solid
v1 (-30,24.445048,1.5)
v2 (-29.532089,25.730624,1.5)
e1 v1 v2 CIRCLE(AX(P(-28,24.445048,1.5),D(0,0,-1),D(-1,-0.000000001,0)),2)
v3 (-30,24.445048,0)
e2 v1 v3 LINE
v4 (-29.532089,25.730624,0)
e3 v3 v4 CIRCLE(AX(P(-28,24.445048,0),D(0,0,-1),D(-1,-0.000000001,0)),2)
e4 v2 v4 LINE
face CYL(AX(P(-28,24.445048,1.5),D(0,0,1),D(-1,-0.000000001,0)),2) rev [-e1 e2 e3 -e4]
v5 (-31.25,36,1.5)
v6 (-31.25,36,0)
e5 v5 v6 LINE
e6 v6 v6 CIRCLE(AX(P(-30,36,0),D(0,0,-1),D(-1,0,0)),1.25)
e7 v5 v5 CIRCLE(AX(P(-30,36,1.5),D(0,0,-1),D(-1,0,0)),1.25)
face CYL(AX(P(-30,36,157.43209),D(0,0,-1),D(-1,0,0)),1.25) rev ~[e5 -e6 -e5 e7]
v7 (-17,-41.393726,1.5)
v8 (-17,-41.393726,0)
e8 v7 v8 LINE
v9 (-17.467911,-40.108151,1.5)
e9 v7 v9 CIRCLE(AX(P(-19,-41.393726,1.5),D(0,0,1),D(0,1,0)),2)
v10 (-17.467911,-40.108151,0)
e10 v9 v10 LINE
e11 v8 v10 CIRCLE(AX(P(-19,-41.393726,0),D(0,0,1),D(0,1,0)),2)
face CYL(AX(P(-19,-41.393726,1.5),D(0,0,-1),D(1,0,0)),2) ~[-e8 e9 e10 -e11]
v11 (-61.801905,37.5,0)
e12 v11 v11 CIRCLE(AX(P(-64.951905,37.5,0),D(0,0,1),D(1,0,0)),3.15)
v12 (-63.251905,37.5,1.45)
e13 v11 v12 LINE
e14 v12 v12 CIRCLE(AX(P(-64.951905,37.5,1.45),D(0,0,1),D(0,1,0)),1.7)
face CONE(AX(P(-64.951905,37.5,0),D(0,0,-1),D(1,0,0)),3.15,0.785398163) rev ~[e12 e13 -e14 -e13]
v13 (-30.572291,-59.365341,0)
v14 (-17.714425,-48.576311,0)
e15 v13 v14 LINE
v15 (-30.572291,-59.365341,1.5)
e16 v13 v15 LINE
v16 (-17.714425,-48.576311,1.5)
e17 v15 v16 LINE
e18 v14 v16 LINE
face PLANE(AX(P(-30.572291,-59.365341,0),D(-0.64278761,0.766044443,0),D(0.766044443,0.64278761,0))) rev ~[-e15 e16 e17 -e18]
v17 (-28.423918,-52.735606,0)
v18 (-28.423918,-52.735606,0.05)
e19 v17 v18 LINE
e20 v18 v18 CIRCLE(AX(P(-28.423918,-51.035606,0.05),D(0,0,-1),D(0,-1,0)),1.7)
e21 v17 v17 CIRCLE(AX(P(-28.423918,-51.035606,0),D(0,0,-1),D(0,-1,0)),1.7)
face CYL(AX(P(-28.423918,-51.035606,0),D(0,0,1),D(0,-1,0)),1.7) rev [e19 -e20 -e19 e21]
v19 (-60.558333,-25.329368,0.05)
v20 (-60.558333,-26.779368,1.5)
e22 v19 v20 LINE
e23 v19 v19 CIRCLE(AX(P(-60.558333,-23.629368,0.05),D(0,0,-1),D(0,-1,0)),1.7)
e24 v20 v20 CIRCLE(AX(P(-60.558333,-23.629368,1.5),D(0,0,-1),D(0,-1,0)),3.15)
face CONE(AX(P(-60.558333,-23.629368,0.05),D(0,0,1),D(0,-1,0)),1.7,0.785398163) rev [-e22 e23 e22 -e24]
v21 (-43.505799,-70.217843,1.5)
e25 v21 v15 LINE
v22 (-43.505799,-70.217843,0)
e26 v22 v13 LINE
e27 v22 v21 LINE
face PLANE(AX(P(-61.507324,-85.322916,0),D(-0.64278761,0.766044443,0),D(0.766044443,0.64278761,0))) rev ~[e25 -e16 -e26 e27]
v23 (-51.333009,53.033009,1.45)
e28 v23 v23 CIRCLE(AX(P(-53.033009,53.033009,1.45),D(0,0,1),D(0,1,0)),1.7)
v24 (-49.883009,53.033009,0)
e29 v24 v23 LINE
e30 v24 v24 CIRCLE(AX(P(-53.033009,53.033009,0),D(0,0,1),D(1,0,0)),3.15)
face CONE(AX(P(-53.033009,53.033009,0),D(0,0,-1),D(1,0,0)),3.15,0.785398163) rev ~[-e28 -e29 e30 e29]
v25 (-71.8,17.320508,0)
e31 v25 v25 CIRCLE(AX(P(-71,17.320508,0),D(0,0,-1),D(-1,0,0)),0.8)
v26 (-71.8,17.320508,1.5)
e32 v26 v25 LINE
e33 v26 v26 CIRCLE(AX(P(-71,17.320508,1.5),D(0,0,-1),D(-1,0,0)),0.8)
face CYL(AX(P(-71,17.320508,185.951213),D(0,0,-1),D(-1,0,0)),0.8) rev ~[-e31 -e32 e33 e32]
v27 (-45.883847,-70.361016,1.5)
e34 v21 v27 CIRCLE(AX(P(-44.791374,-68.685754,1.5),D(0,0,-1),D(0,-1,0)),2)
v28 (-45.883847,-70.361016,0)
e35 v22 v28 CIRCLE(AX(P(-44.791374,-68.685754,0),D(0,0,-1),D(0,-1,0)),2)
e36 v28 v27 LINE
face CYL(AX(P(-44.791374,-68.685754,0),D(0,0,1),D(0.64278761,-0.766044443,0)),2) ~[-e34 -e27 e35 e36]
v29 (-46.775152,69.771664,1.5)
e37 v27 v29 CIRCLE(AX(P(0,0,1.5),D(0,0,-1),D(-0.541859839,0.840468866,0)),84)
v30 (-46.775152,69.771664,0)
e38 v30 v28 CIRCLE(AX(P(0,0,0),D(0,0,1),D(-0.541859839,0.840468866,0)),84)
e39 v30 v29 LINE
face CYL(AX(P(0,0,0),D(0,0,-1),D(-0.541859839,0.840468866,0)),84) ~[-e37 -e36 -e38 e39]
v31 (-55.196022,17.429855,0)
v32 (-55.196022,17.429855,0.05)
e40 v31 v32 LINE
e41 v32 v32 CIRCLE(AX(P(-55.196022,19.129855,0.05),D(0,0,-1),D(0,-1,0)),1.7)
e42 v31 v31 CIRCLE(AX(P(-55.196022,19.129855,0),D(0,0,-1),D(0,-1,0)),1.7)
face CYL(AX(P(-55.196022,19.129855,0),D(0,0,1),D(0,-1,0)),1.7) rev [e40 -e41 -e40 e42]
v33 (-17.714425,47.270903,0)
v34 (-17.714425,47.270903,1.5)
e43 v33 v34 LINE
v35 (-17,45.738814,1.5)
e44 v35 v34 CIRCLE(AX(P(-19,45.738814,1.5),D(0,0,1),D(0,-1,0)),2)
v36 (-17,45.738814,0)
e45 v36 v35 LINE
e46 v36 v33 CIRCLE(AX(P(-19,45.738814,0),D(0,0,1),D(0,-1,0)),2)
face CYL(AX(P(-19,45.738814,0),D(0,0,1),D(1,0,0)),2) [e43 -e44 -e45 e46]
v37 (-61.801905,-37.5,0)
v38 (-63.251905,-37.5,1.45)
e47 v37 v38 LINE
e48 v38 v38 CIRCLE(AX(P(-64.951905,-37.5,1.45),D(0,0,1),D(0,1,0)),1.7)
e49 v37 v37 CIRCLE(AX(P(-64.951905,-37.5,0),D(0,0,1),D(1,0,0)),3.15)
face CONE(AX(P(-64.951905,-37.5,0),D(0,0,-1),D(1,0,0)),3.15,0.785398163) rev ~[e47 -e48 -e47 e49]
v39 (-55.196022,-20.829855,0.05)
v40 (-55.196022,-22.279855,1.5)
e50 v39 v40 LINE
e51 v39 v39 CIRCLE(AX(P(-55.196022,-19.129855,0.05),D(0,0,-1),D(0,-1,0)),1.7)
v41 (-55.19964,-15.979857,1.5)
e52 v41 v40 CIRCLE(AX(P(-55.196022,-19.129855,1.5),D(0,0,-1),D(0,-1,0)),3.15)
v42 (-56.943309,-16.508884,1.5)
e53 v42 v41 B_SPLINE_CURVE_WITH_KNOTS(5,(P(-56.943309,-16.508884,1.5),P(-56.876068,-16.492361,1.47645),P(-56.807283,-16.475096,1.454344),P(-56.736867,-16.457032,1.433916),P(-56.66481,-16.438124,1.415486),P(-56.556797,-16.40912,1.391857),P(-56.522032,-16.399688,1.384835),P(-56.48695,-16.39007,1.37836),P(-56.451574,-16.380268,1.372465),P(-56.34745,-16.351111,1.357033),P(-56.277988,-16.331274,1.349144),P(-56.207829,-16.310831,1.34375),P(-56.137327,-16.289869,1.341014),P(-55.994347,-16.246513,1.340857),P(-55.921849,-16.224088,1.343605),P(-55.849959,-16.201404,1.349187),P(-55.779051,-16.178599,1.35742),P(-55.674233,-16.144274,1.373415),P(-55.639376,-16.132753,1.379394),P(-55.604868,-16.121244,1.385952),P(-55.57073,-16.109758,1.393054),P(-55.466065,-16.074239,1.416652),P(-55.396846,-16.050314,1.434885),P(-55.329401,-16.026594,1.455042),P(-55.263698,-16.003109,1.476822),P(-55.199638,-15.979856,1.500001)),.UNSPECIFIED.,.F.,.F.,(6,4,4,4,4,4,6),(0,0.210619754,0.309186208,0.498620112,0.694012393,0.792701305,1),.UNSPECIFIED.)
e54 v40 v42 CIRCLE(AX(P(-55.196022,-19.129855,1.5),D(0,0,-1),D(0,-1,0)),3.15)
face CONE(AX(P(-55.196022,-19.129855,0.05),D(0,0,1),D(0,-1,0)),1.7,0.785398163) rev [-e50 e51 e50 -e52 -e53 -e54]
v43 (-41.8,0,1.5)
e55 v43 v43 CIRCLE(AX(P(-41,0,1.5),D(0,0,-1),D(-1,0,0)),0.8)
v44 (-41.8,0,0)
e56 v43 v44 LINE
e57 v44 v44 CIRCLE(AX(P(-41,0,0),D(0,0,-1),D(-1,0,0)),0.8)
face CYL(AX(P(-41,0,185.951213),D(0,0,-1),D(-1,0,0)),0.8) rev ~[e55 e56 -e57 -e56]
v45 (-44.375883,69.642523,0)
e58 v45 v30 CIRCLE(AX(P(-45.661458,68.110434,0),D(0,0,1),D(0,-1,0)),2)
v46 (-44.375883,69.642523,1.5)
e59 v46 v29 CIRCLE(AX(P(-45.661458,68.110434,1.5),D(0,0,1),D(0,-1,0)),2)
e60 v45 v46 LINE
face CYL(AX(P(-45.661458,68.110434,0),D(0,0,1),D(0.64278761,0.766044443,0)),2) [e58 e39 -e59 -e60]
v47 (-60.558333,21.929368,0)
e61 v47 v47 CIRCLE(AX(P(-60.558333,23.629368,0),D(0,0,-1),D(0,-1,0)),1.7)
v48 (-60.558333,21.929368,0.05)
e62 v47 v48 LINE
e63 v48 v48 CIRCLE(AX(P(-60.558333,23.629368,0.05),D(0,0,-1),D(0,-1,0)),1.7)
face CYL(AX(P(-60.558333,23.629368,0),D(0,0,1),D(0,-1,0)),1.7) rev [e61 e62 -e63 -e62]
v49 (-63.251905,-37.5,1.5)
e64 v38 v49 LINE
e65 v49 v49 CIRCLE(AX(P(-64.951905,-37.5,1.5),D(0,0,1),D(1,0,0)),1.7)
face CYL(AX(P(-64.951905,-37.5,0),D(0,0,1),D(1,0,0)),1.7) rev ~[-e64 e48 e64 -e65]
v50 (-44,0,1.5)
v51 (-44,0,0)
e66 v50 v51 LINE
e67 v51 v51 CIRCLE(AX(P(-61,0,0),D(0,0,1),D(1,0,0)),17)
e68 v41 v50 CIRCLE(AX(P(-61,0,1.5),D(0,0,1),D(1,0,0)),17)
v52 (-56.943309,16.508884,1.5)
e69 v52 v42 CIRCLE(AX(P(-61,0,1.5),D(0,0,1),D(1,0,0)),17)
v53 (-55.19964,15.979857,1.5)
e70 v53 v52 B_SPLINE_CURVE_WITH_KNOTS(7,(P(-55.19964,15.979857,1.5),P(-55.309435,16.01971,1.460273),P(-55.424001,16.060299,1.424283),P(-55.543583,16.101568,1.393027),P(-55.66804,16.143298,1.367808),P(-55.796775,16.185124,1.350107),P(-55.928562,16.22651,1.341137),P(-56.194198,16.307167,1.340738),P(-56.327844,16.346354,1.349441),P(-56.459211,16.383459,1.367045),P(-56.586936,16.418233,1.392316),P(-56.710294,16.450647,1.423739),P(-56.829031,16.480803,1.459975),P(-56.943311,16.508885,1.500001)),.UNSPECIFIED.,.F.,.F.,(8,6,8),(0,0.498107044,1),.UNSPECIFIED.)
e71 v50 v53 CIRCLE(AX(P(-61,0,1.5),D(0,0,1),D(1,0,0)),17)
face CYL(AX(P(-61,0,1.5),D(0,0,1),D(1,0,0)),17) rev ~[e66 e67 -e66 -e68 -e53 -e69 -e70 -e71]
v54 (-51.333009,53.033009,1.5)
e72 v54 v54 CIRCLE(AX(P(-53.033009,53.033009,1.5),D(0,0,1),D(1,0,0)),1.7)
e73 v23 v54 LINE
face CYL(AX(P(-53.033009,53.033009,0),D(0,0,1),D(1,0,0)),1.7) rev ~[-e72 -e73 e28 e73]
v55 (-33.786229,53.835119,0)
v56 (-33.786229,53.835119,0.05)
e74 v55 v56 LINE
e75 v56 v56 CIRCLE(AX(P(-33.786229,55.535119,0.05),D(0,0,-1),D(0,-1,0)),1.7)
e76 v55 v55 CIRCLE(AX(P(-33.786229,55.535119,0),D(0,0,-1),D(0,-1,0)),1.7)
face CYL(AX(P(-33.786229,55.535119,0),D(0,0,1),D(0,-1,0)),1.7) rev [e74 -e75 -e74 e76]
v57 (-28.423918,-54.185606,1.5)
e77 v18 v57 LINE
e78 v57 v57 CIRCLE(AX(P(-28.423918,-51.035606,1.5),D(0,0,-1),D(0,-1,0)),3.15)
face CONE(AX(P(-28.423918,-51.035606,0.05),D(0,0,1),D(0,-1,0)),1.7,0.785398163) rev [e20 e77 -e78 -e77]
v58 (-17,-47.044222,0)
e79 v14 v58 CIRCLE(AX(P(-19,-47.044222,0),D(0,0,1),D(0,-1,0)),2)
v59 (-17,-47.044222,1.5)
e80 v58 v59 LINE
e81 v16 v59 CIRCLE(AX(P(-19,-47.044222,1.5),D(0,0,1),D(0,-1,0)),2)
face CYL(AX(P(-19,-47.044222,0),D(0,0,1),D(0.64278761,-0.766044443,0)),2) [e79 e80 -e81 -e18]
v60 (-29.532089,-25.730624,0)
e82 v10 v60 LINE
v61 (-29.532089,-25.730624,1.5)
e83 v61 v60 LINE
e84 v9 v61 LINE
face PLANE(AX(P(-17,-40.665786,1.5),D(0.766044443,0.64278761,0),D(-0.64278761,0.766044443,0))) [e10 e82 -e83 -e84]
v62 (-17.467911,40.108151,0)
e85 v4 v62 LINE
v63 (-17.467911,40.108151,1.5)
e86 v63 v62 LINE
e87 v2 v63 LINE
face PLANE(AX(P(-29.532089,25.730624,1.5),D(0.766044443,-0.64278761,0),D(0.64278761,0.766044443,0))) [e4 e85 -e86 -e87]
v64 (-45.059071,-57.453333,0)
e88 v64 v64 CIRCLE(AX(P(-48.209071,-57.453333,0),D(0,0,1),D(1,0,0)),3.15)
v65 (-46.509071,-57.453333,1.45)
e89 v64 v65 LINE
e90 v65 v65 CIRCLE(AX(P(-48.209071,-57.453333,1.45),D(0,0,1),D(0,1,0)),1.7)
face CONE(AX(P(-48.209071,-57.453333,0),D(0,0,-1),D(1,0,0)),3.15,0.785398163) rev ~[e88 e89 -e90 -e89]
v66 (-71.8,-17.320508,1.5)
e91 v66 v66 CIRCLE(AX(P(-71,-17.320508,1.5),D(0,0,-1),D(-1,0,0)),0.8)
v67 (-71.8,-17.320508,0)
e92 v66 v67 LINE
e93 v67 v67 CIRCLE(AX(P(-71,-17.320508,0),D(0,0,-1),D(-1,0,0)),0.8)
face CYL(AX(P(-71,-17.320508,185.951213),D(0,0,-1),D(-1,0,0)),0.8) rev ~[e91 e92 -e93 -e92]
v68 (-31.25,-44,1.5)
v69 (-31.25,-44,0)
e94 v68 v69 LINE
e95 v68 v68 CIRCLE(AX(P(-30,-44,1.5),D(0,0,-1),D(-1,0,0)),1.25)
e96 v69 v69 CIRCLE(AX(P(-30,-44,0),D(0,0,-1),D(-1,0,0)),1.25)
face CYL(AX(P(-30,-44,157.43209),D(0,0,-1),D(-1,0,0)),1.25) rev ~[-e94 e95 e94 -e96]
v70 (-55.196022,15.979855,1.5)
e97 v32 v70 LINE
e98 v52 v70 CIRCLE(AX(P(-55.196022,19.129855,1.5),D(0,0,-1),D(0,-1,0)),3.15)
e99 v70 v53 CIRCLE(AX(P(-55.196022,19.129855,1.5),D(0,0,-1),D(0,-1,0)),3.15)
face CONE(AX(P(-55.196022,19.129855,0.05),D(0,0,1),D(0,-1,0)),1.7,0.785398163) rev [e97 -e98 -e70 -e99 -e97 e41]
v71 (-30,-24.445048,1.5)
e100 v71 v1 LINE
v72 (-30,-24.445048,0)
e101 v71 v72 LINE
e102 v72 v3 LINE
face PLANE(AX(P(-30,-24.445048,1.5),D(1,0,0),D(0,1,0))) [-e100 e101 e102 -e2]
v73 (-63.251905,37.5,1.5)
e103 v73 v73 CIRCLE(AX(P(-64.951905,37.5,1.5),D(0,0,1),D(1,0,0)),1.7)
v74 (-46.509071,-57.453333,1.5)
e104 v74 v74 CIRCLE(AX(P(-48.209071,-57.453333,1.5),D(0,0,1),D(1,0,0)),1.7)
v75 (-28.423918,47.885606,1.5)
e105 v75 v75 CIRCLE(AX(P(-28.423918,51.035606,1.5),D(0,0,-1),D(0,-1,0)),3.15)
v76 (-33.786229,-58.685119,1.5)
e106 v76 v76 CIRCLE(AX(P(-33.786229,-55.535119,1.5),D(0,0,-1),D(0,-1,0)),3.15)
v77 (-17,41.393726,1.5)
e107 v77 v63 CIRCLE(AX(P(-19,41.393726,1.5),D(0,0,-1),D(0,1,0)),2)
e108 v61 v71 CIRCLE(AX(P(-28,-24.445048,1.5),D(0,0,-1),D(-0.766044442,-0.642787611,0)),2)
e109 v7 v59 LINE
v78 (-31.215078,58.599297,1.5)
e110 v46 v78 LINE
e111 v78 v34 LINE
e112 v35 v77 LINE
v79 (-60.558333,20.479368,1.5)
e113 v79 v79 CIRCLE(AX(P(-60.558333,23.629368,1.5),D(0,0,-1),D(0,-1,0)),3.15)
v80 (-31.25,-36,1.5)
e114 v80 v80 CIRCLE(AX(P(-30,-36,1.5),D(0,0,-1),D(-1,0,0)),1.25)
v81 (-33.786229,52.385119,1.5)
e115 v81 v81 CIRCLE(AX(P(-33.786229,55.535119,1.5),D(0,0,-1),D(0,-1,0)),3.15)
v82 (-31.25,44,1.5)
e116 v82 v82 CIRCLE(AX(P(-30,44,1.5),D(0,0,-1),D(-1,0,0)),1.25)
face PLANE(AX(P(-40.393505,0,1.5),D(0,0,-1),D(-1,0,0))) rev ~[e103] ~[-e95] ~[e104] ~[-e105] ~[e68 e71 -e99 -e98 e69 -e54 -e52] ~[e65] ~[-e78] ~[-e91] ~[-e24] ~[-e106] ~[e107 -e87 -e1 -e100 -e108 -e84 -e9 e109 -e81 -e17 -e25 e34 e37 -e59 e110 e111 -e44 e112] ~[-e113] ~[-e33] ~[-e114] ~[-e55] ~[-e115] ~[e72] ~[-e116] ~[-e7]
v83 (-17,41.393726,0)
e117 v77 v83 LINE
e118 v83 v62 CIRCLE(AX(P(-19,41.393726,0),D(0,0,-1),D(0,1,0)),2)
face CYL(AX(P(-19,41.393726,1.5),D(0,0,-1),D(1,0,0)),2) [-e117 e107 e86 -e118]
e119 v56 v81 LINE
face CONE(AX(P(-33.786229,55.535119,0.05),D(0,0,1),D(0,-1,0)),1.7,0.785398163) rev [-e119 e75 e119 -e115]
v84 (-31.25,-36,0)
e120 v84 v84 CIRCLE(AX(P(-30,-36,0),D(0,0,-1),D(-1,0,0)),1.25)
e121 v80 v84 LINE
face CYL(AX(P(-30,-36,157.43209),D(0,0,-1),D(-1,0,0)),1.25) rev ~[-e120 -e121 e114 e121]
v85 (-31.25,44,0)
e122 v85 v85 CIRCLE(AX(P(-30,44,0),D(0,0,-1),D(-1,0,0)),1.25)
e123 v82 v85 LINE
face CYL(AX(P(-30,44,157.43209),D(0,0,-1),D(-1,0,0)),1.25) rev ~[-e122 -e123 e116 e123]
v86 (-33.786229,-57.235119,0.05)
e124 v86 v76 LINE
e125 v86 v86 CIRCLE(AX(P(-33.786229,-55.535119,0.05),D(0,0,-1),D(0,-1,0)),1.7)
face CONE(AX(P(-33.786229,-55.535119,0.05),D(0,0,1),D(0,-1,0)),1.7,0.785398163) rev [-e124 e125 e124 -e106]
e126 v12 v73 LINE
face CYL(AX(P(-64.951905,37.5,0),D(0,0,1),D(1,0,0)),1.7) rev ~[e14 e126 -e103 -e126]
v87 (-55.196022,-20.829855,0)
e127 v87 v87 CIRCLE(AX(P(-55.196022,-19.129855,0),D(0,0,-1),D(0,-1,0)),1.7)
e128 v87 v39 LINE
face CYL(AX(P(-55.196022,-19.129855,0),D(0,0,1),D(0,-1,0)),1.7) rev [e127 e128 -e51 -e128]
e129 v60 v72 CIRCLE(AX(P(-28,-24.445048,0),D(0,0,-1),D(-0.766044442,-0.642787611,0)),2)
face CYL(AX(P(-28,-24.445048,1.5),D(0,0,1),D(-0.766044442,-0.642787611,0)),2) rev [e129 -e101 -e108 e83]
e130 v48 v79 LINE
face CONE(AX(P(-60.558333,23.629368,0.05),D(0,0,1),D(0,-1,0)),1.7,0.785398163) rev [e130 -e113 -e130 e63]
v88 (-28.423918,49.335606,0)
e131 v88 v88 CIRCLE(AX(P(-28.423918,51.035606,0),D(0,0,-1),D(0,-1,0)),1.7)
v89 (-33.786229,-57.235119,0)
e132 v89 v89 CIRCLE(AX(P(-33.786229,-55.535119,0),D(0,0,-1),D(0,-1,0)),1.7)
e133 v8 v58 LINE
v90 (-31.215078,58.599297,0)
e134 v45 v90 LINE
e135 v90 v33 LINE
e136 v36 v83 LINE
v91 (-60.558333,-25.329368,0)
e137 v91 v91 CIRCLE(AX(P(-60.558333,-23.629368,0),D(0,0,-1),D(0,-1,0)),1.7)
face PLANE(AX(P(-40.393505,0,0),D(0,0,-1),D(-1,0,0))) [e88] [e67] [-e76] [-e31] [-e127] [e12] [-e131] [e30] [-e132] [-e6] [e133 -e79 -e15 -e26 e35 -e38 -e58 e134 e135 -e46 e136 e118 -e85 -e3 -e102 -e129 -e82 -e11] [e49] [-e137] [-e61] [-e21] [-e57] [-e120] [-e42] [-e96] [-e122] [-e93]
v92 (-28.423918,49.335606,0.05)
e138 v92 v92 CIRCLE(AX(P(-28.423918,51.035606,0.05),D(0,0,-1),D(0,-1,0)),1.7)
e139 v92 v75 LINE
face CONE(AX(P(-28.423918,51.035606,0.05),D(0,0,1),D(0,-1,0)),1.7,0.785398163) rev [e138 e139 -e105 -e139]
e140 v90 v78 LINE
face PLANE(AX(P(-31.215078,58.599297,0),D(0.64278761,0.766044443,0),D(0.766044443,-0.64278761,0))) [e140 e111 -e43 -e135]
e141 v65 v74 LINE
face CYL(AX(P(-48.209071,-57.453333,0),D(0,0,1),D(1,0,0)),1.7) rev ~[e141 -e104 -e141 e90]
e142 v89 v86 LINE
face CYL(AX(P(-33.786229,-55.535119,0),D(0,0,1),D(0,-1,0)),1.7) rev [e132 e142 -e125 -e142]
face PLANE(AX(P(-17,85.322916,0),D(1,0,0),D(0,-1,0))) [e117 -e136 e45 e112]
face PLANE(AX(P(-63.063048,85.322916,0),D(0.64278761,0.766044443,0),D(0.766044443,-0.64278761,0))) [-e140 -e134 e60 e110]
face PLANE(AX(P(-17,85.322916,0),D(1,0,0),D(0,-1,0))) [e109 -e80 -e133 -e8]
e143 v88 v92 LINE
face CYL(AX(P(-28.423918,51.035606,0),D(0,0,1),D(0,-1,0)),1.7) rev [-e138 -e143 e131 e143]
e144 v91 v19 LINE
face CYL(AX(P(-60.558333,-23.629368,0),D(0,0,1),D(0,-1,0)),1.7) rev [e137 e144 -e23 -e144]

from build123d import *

# Parameters (mm, degrees)
RESSALTO_EXTRUS_O1_DEPTH                           = 1.5
ESBO_O2_R                                          = 17
CORTE_EXTRUS_O1_DEPTH                              = 1.5
FURO_ROSCADO_DE_M21_D                              = 1.6
CORTE_EXTRUS_O3_DEPTH                              = 1.5
ESCAREADO_PARA_PARAFUSO_COM_CABE_A_E_2_COUNT       = 2
ESCAREADO_PARA_PARAFUSO_COM_CABE_A_E_2_PITCH       = 7
ESCAREADO_PARA_PARAFUSO_COM_CABE_A_E_3_COUNT       = 2
ESCAREADO_PARA_PARAFUSO_COM_CABE_A_E_3_PITCH       = 42.234139035
ESCAREADO_PARA_PARAFUSO_COM_CABE_A_E_4_COUNT       = 2
ESCAREADO_PARA_PARAFUSO_COM_CABE_A_E_4_PITCH       = 41.65
ESCAREADO_PARA_PARAFUSO_COM_CABE_A_E_5_COUNT       = 2
ESCAREADO_PARA_PARAFUSO_COM_CABE_A_E_5_PITCH       = 83.568902959
ESCAREADO_PARA_PARAFUSO_COM_CABE_A_E_6_COUNT       = 2
ESCAREADO_PARA_PARAFUSO_COM_CABE_A_E_6_PITCH       = 81.286400606
ESCAREADO_PARA_PARAFUSO_COM_CABE_A_E_7_COUNT       = 2
ESCAREADO_PARA_PARAFUSO_COM_CABE_A_E_7_PITCH       = 47.258735882
ESCAREADO_PARA_PARAFUSO_COM_CABE_A_E_8_COUNT       = 2
ESCAREADO_PARA_PARAFUSO_COM_CABE_A_E_8_PITCH       = 43.094146922
ESCAREADO_PARA_PARAFUSO_COM_CABE_A_E_9_D           = 3.4
ESCAREADO_PARA_PARAFUSO_COM_CABE_A_E_9_DEPTH       = 7.25
ESCAREADO_PARA_PARAFUSO_COM_CABE_A_E_9_CSINK_D     = 6.3
ESCAREADO_PARA_PARAFUSO_COM_CABE_A_E_9_CSINK_ANGLE = 90
ESCAREADO_PARA_PARAFUSO_COM_CABE_A_E_9_TIP         = 1.021463052
CORTE_EXTRUS_O7_DEPTH                              = 122.865704775
CORTE_EXTRUS_O8_DEPTH                              = 114.698293533
FILETE1_R                                          = 2
BROCA_DE_ROSQUEAR_PARA_TARRAXA_DE_M31_D            = 2.5


with BuildPart() as part:
    # Esboço1 → Ressalto-extrusão1 (new body)
    with BuildSketch(Plane.XY):
        with BuildLine():
            Line((-17, 85.322916031), (-17, -85.322916031))
            ThreePointArc((-17, -85.322916031), (-87, 0), (-17, 85.322916031))
        make_face()
    extrude(amount=RESSALTO_EXTRUS_O1_DEPTH)

    # Esboço2 → Corte-extrusão1 (cut)
    with BuildSketch(Plane.XY.offset(1.5)):
        with Locations((-61, 0)):
            Circle(ESBO_O2_R)
    extrude(amount=-CORTE_EXTRUS_O1_DEPTH, mode=Mode.SUBTRACT)

    # Furo roscado de M21 (through all)
    with Locations(Plane(origin=(-71, 17.320508076, 1.5), x_dir=(1, 0, 0), z_dir=(0, 0, 1))):
        with Locations((0, 0), (30, -17.320508076), (0, -34.641016152)):
            Hole(FURO_ROSCADO_DE_M21_D / 2)

    # Esboço6 → Corte-extrusão3 (cut)
    with BuildSketch(Plane.XY.offset(1.5)):
        with BuildLine():
            Line((-30, -24.445048467), (-30, 24.445048467))
            ThreePointArc((-30, 24.445048467), (-29.879385242, 25.129088753), (-29.532088886, 25.730623686))
            Line((-29.532088886, 25.730623686), (-17, 40.665785639))
            Line((-17, 40.665785639), (-17, -40.665785639))
            Line((-17, -40.665785639), (-29.532088886, -25.730623686))
            ThreePointArc((-29.532088886, -25.730623686), (-29.879385242, -25.129088753), (-30, -24.445048467))
        make_face()
    extrude(amount=-CORTE_EXTRUS_O3_DEPTH, mode=Mode.SUBTRACT)

    # Esboço11 → Escareado para parafuso com cabe_a escar (revolve, cut)
    with BuildSketch(Plane(origin=(-60.558332829, -23.629367941, 1.5), x_dir=(0, -1, 0), z_dir=(1, 0, 0))):
        Polygon((0, 0), (0, 1.5), (1.7, 1.5), (1.7, 1.45), (3.15, 0), align=None)
    escareado_para_parafuso_com_cabe_a_escar = revolve(axis=Axis((-60.558332829, -23.629367941, 7.85), (0, 0, -1)), mode=Mode.SUBTRACT)

    # Escareado para parafuso com cabe_a e 2: Escareado para parafuso com cabe_a escar ×2
    with Locations(*[Vector(0.7660444431189771, 0.6427876096865406, 0) * (i * ESCAREADO_PARA_PARAFUSO_COM_CABE_A_E_2_PITCH) for i in range(1, ESCAREADO_PARA_PARAFUSO_COM_CABE_A_E_2_COUNT)]):
        add(escareado_para_parafuso_com_cabe_a_escar, mode=Mode.SUBTRACT)

    # Escareado para parafuso com cabe_a e 3: Escareado para parafuso com cabe_a escar ×2
    with Locations(*[Vector(0.7608635047324315, -0.6489119564057063, 0) * (i * ESCAREADO_PARA_PARAFUSO_COM_CABE_A_E_3_PITCH) for i in range(1, ESCAREADO_PARA_PARAFUSO_COM_CABE_A_E_3_COUNT)]):
        add(escareado_para_parafuso_com_cabe_a_escar, mode=Mode.SUBTRACT)

    # Escareado para parafuso com cabe_a e 4: Escareado para parafuso com cabe_a escar ×2
    with Locations(*[Vector(0.6427876096865411, -0.7660444431189766, 0) * (i * ESCAREADO_PARA_PARAFUSO_COM_CABE_A_E_4_PITCH) for i in range(1, ESCAREADO_PARA_PARAFUSO_COM_CABE_A_E_4_COUNT)]):
        add(escareado_para_parafuso_com_cabe_a_escar, mode=Mode.SUBTRACT)

    # Escareado para parafuso com cabe_a e 5: Escareado para parafuso com cabe_a escar ×2
    with Locations(*[Vector(0.3203596433075423, 0.9472959933093058, 0) * (i * ESCAREADO_PARA_PARAFUSO_COM_CABE_A_E_5_PITCH) for i in range(1, ESCAREADO_PARA_PARAFUSO_COM_CABE_A_E_5_COUNT)]):
        add(escareado_para_parafuso_com_cabe_a_escar, mode=Mode.SUBTRACT)

    # Escareado para parafuso com cabe_a e 6: Escareado para parafuso com cabe_a escar ×2
    with Locations(*[Vector(0.3953233850400935, 0.9185420084244608, 0) * (i * ESCAREADO_PARA_PARAFUSO_COM_CABE_A_E_6_PITCH) for i in range(1, ESCAREADO_PARA_PARAFUSO_COM_CABE_A_E_6_COUNT)]):
        add(escareado_para_parafuso_com_cabe_a_escar, mode=Mode.SUBTRACT)

    # Escareado para parafuso com cabe_a e 7: Escareado para parafuso com cabe_a escar ×2
    with Locations(*[(0, i * ESCAREADO_PARA_PARAFUSO_COM_CABE_A_E_7_PITCH, 0) for i in range(1, ESCAREADO_PARA_PARAFUSO_COM_CABE_A_E_7_COUNT)]):
        add(escareado_para_parafuso_com_cabe_a_escar, mode=Mode.SUBTRACT)

    # Escareado para parafuso com cabe_a e 8: Escareado para parafuso com cabe_a escar ×2
    with Locations(*[Vector(0.12443246902051158, 0.9922280789483129, 0) * (i * ESCAREADO_PARA_PARAFUSO_COM_CABE_A_E_8_PITCH) for i in range(1, ESCAREADO_PARA_PARAFUSO_COM_CABE_A_E_8_COUNT)]):
        add(escareado_para_parafuso_com_cabe_a_escar, mode=Mode.SUBTRACT)

    # Escareado para parafuso com cabe_a e 9
    with Locations(Plane(origin=(-48.209070726, -57.453333234, 0), x_dir=(-1, 0, 0), z_dir=(0, 0, -1))):
        with Locations((0, 0), (16.742834558, 19.953333234), (16.742834558, 94.953333234), (4.823937863, 110.486341823)):
            CounterSinkHole(ESCAREADO_PARA_PARAFUSO_COM_CABE_A_E_9_D / 2, ESCAREADO_PARA_PARAFUSO_COM_CABE_A_E_9_CSINK_D / 2, depth=ESCAREADO_PARA_PARAFUSO_COM_CABE_A_E_9_DEPTH, counter_sink_angle=ESCAREADO_PARA_PARAFUSO_COM_CABE_A_E_9_CSINK_ANGLE)
            with Locations((0, 0, -(ESCAREADO_PARA_PARAFUSO_COM_CABE_A_E_9_DEPTH + ESCAREADO_PARA_PARAFUSO_COM_CABE_A_E_9_TIP / 2))):  # 118° drill point
                Cone(0, ESCAREADO_PARA_PARAFUSO_COM_CABE_A_E_9_D / 2, ESCAREADO_PARA_PARAFUSO_COM_CABE_A_E_9_TIP, mode=Mode.SUBTRACT)

    # Esboço19 → Corte-extrusão7 (cut, through all)
    with BuildSketch(Plane(origin=(0, 0, 0), x_dir=(-1, 0, 0), z_dir=(0, 0, -1))):
        Polygon((31.215078447, 58.599296769), (17, 46.671429688), (17, 85.322916031), (63.063047709, 85.322916031), align=None)
        Polygon((30.572290837, -59.365341213), (17, -47.976836977), (17, -85.322916031), (61.507323882, -85.322916031), align=None)
    extrude(amount=-CORTE_EXTRUS_O7_DEPTH, mode=Mode.SUBTRACT)

    # Esboço20 → Corte-extrusão8 (cut, through all)
    with BuildSketch(Plane(origin=(0, 0, 0), x_dir=(-1, 0, 0), z_dir=(0, 0, -1))):
        with BuildLine():
            Line((47.91785698, 72.614592076), (45.51622644, 70.599384776))
            ThreePointArc((45.51622644, 70.599384776), (83.998363098, -0.524401402), (44.631209662, -71.162174813))
            Line((44.631209662, -71.162174813), (47.04198176, -73.185052792))
            ThreePointArc((47.04198176, -73.185052792), (86.998430183, -0.522633435), (47.91785698, 72.614592076))
        make_face()
    extrude(amount=-CORTE_EXTRUS_O8_DEPTH, mode=Mode.SUBTRACT)

    # Filete1
    filete1_edges = [part.edges().sort_by_distance(p)[0] for p in [
        (-17, 46.671429688, 0.75),
        (-17, -47.976836977, 0.75),
        (-45.51622644, 70.599384776, 0.75),
        (-44.631209662, -71.162174813, 0.75),
        (-17, 40.665785639, 0.75),
        (-17, -40.665785639, 0.75),
    ]]
    fillet(filete1_edges, radius=FILETE1_R)

    # Broca de rosquear para tarraxa de M31 (through all)
    with Locations(Plane(origin=(-30, -44, 1.5), x_dir=(1, 0, 0), z_dir=(0, 0, 1))):
        with Locations((0, 0), (0, 8), (0, 88), (0, 80)):
            Hole(BROCA_DE_ROSQUEAR_PARA_TARRAXA_DE_M31_D / 2)


solid = part.part
